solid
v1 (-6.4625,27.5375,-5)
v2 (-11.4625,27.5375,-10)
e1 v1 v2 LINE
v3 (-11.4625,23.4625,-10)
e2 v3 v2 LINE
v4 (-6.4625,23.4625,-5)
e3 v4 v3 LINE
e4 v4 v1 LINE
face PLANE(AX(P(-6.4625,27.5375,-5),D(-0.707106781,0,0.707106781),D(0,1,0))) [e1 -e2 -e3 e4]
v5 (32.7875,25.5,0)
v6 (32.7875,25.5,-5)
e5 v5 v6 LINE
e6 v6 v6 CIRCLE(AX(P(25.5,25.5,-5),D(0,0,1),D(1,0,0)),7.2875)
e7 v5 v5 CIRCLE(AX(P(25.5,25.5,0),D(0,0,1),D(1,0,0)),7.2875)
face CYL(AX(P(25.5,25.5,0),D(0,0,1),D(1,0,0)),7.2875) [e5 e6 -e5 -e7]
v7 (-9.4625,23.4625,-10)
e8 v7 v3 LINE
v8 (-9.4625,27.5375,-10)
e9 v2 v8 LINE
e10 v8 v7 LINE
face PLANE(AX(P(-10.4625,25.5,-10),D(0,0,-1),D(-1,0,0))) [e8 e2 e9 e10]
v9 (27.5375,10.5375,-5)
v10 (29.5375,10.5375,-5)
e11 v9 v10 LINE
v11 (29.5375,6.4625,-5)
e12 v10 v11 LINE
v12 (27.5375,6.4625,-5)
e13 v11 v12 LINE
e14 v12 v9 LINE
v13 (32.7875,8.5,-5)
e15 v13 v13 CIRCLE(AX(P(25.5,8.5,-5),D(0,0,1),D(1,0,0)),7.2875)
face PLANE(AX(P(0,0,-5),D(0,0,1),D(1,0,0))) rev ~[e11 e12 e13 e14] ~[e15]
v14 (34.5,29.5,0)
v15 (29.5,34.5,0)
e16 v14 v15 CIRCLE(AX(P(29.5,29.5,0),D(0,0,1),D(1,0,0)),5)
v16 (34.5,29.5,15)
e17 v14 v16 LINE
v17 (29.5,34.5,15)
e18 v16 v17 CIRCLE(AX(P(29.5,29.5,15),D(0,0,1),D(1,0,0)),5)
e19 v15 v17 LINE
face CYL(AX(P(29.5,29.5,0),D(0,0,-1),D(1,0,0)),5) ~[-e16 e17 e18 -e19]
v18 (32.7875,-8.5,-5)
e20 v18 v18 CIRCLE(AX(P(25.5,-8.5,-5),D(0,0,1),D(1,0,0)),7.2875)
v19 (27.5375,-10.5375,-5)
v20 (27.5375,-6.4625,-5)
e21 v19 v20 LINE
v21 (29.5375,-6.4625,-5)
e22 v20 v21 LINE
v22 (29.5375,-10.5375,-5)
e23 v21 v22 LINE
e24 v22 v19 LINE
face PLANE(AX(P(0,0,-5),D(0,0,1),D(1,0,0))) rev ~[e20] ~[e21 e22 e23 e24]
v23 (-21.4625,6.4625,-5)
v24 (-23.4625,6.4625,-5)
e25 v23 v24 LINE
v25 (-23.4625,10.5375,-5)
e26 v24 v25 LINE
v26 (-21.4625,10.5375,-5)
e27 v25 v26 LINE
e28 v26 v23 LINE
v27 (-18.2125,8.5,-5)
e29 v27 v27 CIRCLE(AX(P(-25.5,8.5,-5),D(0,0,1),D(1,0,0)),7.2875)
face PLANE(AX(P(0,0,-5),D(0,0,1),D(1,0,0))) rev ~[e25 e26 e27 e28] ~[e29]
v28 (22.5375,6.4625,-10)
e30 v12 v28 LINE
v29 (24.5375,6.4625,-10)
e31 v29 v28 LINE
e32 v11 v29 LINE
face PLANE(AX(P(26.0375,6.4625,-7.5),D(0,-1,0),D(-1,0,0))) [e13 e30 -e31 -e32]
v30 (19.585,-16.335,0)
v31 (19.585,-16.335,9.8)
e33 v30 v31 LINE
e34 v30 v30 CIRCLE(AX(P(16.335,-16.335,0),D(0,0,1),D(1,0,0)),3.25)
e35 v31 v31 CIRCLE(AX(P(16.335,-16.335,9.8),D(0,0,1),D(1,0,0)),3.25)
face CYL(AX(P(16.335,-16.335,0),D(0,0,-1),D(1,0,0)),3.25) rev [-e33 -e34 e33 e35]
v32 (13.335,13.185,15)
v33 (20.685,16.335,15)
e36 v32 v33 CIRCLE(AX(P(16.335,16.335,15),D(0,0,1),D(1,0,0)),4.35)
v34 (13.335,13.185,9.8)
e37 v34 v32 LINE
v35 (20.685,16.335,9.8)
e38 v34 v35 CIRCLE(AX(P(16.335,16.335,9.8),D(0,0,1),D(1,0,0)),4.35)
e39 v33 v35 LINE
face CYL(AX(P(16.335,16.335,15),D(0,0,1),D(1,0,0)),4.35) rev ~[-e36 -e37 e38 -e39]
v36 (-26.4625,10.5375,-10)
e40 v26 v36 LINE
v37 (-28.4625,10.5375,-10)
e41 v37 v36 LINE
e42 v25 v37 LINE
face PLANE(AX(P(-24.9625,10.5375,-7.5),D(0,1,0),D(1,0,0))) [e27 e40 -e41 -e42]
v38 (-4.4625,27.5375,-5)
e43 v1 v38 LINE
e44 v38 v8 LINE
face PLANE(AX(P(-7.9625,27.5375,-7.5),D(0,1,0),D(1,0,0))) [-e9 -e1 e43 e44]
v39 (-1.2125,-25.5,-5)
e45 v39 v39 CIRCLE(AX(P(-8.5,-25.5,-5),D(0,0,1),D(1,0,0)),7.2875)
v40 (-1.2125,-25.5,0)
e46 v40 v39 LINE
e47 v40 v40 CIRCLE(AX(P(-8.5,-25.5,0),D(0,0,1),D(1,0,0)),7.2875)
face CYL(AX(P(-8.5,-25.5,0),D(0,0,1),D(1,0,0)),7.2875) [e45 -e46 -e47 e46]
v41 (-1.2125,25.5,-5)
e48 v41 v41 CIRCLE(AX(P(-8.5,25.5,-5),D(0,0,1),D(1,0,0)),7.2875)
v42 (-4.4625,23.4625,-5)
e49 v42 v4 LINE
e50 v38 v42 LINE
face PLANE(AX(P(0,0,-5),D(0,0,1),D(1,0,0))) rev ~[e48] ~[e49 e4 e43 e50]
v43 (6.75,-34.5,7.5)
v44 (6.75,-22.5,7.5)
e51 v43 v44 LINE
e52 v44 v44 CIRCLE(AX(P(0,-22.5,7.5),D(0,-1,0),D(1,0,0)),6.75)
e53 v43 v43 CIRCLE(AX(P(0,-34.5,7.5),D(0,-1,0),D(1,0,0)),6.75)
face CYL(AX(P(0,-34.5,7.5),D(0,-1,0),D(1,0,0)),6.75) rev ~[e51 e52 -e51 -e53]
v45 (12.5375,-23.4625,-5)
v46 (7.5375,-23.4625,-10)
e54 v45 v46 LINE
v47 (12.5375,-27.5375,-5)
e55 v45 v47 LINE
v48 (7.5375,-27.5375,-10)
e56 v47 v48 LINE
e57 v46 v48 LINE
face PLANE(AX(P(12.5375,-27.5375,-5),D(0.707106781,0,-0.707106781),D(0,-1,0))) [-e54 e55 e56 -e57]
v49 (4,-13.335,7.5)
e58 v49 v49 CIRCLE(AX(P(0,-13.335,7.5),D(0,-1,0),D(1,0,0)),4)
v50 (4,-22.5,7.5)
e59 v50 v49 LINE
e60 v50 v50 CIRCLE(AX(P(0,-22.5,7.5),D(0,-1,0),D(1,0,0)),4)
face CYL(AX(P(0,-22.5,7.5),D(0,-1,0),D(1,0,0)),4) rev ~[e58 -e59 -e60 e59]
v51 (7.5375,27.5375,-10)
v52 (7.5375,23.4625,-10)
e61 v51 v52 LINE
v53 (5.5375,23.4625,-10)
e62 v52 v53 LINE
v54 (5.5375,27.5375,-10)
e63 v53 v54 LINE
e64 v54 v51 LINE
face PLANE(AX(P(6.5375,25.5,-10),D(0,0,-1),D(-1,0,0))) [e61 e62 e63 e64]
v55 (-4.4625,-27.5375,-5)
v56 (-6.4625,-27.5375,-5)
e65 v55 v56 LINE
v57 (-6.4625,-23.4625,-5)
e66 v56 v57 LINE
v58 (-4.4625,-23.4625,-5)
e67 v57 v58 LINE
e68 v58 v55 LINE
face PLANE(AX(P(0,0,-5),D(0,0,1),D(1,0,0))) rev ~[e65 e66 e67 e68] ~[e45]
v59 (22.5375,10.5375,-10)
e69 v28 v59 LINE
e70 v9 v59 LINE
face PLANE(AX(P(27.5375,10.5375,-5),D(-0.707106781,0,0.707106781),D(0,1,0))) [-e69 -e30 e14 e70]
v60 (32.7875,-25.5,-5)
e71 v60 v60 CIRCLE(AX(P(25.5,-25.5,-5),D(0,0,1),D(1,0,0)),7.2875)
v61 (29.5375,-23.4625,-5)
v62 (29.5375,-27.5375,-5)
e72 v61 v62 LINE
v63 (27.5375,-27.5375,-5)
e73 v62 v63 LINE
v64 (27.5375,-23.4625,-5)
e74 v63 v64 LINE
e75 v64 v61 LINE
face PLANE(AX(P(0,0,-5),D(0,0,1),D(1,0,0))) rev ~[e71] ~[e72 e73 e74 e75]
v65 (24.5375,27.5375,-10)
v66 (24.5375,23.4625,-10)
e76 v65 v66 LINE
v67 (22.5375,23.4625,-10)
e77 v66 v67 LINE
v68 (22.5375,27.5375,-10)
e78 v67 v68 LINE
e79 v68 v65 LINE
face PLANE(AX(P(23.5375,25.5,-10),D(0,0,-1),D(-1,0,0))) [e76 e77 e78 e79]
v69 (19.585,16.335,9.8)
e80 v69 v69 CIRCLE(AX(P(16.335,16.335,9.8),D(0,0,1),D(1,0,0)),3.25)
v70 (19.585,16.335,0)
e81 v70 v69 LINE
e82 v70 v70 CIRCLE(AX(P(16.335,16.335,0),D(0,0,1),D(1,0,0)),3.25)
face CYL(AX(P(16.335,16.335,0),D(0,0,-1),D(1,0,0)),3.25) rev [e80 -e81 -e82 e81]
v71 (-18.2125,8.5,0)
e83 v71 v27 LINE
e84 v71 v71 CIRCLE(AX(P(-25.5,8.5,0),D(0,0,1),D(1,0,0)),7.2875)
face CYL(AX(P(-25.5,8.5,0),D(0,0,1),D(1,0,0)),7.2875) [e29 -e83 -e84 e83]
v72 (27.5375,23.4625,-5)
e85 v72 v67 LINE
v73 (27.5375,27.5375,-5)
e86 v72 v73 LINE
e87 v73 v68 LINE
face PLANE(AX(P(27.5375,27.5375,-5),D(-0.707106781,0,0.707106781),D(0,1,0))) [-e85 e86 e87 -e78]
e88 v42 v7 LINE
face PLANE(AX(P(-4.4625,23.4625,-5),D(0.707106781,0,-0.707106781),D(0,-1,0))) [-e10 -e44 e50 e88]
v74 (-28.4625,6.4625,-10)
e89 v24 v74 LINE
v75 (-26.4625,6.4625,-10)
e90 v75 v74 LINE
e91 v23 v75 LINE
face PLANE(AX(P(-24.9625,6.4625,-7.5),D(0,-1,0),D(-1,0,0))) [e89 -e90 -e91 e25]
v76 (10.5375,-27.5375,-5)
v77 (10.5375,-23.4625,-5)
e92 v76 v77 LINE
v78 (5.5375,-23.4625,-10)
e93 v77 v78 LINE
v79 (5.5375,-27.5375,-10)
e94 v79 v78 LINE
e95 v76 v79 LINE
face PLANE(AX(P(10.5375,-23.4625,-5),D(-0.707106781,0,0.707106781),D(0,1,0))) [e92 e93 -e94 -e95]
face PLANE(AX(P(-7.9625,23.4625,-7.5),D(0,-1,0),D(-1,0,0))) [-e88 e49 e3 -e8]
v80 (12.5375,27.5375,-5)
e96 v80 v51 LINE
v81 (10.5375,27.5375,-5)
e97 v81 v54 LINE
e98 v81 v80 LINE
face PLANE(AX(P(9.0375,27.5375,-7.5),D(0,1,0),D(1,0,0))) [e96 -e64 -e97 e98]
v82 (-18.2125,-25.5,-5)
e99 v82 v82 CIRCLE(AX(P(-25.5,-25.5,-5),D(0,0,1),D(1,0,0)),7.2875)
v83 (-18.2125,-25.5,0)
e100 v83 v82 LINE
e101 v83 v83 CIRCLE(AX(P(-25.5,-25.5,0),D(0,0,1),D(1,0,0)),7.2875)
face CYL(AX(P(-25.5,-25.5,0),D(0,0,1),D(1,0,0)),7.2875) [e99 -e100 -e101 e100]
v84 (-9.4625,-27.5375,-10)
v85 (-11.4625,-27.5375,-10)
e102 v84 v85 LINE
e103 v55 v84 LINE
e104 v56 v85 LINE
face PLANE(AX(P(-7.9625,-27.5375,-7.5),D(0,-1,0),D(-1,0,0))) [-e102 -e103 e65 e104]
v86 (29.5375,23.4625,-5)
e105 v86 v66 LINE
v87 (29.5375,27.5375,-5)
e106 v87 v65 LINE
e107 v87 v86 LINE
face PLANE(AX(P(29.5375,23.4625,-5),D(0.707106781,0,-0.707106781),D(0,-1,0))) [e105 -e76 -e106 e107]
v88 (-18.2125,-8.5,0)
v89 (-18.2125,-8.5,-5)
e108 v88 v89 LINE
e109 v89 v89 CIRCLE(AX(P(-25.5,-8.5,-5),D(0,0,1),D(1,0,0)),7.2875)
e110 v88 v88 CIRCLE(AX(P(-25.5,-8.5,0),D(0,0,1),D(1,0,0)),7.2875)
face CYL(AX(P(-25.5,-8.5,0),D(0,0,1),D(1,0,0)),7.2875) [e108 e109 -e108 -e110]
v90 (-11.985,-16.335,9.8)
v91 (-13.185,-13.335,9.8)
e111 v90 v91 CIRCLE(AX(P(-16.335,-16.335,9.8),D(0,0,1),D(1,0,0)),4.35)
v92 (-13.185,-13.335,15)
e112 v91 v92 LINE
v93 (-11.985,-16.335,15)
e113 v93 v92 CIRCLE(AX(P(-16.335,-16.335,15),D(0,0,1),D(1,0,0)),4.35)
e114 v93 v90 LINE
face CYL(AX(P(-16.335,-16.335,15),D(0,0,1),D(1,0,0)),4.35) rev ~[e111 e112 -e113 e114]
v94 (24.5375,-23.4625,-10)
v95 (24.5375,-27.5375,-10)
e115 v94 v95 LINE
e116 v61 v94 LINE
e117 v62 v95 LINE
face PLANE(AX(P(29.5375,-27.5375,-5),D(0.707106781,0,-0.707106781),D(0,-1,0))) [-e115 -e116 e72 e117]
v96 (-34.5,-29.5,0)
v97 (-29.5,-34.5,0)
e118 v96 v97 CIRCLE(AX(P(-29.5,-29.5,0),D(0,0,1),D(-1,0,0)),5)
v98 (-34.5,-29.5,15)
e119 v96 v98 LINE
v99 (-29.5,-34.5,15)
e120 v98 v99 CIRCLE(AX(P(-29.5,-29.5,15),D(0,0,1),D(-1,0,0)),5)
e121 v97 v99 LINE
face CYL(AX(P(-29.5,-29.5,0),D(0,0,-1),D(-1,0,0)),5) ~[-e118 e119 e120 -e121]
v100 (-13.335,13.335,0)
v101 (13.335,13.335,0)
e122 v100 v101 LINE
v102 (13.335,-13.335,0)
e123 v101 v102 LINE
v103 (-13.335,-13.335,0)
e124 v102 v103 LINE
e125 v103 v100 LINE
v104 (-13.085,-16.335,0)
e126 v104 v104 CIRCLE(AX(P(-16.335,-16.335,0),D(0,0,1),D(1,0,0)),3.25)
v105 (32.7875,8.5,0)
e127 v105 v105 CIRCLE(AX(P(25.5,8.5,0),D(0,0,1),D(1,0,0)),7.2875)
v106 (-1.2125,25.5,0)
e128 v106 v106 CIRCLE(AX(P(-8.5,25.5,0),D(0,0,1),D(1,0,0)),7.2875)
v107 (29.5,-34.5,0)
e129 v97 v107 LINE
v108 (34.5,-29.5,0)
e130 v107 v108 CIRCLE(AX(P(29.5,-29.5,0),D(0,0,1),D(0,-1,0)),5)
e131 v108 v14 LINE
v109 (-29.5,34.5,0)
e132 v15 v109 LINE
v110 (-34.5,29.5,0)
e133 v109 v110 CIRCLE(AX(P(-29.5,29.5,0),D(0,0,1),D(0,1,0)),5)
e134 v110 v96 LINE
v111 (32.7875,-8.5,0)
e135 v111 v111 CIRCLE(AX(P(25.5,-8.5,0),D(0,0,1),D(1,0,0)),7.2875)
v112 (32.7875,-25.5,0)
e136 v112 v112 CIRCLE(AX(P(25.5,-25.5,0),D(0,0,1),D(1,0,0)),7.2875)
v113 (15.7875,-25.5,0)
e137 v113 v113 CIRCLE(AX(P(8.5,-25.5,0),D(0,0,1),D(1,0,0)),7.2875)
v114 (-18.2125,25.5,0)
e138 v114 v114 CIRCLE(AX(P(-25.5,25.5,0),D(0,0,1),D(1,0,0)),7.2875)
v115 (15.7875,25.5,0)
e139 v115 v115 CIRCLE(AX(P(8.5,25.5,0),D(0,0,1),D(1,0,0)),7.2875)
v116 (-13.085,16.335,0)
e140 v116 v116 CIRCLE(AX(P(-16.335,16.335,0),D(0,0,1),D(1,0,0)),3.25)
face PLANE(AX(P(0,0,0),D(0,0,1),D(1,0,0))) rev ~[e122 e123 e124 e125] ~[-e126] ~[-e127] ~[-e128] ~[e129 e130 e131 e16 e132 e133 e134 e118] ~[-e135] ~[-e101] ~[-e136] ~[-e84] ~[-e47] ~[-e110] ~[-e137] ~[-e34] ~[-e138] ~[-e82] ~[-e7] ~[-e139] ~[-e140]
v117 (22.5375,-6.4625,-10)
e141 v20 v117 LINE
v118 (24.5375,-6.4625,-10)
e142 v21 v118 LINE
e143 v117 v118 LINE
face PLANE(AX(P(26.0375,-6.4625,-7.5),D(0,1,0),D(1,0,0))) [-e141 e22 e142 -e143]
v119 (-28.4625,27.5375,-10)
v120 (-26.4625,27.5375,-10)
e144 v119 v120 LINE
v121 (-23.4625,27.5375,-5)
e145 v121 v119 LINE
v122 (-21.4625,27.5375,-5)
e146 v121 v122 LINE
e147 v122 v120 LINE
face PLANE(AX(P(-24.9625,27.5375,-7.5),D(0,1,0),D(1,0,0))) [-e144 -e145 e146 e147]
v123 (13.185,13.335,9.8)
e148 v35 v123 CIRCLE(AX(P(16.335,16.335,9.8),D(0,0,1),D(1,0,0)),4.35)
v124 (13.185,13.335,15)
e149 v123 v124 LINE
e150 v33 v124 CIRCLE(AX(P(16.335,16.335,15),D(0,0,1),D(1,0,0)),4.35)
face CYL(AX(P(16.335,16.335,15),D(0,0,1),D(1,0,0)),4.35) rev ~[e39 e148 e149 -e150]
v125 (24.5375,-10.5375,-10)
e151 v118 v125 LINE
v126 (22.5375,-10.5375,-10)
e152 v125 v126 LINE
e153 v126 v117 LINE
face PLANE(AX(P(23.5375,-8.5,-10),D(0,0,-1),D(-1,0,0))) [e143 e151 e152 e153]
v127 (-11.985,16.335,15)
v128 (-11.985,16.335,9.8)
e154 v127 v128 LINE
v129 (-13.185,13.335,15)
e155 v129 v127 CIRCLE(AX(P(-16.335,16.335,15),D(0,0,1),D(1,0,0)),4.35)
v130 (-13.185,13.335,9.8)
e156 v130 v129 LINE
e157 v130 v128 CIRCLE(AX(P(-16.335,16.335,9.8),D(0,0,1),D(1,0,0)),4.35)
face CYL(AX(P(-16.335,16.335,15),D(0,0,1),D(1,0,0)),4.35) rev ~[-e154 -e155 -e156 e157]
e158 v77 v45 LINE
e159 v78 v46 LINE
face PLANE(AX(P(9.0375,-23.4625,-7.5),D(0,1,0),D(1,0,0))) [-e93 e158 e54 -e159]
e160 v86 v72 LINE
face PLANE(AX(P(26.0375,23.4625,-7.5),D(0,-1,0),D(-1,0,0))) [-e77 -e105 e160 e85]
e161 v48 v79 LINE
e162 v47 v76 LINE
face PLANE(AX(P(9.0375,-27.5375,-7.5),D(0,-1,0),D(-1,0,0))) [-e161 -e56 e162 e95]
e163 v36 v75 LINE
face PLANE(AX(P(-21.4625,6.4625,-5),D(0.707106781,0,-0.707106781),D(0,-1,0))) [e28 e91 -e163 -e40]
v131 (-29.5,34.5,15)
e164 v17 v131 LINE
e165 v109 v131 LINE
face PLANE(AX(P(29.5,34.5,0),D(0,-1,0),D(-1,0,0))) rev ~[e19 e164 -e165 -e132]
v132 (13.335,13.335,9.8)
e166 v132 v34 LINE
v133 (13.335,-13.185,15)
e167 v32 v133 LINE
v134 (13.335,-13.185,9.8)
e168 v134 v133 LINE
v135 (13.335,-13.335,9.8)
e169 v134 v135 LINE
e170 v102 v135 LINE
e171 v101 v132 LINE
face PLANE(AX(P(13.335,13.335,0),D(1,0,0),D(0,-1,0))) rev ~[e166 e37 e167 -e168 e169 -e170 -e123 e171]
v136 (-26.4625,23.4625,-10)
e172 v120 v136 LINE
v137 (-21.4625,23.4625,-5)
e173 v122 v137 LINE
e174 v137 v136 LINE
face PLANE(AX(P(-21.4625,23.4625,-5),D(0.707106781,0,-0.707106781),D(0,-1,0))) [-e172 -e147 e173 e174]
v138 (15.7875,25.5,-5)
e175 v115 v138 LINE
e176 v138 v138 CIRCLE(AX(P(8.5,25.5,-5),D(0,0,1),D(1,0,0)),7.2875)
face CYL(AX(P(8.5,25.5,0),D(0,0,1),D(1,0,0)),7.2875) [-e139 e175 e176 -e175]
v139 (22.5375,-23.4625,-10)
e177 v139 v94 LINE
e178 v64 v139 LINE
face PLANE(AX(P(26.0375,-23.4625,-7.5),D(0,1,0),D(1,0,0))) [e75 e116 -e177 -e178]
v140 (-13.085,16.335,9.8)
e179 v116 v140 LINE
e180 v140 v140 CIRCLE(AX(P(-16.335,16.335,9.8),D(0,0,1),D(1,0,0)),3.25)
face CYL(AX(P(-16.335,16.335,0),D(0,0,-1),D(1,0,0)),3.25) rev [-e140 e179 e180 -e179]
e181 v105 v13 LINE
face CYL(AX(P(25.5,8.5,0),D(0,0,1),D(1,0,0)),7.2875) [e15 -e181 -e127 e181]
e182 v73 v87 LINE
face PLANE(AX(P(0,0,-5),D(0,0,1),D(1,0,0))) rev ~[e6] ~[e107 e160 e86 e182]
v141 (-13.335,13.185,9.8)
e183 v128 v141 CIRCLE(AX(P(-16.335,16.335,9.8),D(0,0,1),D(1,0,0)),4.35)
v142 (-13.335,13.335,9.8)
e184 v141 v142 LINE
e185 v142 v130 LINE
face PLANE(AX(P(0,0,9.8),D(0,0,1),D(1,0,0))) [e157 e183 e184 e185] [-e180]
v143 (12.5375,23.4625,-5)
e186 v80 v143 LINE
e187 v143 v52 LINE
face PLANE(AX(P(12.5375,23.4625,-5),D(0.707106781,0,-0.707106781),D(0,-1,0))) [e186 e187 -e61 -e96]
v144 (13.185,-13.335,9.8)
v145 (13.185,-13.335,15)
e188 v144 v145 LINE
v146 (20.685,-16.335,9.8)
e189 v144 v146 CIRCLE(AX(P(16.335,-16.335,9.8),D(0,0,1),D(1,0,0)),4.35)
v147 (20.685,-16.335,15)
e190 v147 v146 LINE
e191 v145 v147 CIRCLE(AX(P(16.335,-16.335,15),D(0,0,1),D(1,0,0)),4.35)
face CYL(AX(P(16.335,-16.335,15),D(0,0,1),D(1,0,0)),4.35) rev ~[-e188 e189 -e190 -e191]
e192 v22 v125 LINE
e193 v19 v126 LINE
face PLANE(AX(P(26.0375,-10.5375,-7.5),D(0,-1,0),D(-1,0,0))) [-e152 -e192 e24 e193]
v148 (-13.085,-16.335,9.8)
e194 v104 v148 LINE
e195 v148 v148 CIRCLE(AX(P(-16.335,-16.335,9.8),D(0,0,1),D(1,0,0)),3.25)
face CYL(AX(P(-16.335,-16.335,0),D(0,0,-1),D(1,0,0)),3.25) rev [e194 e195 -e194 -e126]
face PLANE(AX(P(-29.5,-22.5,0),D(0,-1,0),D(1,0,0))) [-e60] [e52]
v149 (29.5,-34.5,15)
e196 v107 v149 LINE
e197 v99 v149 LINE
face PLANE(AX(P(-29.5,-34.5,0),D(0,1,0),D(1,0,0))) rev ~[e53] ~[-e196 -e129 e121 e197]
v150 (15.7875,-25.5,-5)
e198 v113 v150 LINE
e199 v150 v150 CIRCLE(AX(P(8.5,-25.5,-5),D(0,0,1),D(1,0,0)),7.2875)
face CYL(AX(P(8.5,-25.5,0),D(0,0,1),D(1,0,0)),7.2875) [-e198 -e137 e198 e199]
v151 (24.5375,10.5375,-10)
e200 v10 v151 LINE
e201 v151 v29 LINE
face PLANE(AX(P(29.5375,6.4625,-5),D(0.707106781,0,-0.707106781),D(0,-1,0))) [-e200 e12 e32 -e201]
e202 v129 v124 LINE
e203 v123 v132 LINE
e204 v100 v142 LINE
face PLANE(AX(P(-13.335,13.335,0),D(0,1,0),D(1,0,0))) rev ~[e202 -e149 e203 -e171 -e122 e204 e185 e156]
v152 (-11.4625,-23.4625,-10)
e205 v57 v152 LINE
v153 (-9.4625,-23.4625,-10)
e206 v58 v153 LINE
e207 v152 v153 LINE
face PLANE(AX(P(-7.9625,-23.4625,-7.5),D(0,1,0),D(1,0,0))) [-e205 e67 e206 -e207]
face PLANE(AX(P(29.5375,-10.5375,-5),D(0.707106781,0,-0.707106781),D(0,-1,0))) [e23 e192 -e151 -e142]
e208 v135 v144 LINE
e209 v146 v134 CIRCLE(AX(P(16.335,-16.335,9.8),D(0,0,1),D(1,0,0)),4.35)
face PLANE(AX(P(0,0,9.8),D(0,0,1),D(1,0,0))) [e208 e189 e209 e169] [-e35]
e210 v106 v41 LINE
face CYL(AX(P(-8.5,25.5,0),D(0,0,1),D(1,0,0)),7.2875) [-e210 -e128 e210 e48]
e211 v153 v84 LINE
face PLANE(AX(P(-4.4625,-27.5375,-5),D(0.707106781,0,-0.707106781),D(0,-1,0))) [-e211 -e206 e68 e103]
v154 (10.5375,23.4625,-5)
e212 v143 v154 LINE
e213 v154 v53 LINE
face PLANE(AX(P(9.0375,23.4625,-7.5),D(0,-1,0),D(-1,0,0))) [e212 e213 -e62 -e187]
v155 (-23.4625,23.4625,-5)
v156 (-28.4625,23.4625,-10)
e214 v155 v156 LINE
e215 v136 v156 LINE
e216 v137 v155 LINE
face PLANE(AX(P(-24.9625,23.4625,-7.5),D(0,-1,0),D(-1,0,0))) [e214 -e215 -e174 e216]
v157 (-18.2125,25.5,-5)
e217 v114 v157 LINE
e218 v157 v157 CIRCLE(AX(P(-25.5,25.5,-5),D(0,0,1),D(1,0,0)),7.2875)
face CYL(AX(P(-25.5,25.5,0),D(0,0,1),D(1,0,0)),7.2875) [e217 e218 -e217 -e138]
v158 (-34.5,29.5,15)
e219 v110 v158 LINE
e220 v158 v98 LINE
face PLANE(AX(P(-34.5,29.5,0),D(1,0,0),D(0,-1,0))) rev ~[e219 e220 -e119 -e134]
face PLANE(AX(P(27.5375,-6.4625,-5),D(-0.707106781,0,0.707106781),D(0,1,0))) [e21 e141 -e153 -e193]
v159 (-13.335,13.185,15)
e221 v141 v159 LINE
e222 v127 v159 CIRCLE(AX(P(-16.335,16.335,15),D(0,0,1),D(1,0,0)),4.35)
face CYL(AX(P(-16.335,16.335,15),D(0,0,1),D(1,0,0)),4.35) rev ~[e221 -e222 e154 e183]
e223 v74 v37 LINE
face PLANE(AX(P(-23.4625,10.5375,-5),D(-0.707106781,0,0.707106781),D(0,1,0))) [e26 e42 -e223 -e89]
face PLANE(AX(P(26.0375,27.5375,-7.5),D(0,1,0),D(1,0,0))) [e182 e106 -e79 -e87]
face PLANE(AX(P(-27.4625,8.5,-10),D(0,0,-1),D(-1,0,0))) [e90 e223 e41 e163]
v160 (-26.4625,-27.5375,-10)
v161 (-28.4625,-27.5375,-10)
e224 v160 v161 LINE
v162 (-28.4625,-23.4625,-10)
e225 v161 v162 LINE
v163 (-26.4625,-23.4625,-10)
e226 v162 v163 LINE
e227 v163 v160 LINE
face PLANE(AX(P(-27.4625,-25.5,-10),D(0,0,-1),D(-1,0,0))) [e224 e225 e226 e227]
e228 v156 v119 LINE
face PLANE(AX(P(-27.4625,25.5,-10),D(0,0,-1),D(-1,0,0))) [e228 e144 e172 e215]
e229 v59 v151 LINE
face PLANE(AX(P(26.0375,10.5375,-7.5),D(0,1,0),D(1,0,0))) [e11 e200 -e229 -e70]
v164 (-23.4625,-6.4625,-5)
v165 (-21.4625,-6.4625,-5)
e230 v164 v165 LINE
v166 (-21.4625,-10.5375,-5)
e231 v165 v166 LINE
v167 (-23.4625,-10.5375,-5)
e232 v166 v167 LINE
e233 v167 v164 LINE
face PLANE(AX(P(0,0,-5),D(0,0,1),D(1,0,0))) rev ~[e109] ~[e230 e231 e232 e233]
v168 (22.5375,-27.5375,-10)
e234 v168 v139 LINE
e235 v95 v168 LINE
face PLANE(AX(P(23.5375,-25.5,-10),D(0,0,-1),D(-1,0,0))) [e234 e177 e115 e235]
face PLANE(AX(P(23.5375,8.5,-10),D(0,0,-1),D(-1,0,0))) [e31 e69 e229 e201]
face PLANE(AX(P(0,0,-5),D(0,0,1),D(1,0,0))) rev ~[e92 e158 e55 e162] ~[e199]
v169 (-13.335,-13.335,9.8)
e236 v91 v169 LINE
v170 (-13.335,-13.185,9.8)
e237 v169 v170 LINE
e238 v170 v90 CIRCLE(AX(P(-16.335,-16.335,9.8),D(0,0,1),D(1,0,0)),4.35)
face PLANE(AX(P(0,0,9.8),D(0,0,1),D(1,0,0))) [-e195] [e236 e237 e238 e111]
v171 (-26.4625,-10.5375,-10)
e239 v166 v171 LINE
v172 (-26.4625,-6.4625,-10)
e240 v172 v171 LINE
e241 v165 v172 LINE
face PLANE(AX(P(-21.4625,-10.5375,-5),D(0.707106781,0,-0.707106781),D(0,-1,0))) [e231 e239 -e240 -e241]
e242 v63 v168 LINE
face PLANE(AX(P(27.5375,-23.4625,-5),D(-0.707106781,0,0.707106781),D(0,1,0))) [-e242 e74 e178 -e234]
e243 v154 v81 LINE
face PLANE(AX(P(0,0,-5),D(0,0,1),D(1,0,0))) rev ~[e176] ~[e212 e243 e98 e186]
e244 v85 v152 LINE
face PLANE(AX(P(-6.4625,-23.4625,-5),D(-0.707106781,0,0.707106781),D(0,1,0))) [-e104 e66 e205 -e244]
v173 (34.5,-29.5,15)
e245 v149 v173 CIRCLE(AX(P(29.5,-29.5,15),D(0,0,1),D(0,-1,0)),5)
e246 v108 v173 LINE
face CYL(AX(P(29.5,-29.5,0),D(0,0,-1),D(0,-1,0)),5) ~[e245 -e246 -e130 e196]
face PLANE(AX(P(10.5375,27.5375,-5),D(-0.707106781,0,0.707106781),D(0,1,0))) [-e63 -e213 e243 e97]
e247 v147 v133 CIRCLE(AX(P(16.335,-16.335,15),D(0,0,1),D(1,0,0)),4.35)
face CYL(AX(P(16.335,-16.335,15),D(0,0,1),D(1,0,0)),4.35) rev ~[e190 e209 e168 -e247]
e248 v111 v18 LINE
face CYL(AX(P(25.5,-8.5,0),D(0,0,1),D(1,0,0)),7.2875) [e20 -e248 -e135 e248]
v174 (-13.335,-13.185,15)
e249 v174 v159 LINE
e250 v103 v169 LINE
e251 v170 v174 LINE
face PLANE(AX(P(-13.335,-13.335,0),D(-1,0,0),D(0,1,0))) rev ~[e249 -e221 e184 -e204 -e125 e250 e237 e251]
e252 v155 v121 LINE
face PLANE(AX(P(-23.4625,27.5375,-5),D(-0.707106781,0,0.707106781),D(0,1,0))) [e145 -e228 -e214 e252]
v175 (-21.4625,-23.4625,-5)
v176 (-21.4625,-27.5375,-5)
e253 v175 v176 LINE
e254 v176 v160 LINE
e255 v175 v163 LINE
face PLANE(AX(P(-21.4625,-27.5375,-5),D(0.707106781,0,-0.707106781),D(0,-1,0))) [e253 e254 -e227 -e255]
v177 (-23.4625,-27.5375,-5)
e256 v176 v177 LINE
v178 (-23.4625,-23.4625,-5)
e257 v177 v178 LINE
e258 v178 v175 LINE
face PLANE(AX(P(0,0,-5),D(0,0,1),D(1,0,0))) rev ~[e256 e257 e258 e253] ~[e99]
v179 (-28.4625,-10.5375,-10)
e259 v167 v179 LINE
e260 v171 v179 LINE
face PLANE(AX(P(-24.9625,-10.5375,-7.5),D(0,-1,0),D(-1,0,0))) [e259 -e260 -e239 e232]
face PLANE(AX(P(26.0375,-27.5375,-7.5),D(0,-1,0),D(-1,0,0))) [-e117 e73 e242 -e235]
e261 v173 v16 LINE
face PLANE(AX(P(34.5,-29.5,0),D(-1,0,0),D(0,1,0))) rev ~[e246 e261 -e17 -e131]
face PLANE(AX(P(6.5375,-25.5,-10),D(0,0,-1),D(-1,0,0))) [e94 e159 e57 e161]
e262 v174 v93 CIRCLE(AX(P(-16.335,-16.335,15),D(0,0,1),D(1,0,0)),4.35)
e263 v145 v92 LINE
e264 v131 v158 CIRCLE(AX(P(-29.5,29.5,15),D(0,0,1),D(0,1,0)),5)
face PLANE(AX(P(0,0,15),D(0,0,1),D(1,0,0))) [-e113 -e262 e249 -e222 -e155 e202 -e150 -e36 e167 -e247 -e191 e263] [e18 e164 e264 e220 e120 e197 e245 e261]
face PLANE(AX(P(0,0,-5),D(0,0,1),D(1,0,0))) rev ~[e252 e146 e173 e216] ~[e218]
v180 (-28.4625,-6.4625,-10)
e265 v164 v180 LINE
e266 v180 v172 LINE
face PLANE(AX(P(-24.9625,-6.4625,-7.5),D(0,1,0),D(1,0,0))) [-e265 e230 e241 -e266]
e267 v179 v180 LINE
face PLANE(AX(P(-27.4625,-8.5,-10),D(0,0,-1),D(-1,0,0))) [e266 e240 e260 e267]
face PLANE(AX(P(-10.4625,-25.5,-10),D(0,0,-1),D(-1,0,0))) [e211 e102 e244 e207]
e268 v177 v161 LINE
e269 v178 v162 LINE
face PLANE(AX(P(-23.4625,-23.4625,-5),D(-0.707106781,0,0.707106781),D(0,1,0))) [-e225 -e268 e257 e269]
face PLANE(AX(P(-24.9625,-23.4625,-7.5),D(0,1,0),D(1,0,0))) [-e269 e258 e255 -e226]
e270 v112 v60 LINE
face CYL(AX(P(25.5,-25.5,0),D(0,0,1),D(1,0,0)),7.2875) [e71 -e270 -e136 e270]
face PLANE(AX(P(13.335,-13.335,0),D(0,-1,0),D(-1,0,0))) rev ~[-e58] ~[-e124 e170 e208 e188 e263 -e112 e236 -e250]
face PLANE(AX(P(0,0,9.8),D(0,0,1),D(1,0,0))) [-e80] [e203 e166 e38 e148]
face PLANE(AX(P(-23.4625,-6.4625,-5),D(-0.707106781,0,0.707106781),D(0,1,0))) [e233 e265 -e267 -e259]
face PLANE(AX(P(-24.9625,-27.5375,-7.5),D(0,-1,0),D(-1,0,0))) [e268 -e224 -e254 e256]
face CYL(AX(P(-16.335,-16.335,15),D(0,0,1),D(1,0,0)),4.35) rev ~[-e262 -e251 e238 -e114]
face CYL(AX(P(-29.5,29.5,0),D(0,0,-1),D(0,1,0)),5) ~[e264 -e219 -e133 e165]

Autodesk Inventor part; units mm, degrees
ref_plane "YZ Plane" through (0, 0, 0) normal (1, 0, 0) x (0, 1, 0)
ref_plane "XZ Plane" through (0, 0, 0) normal (0, 1, 0) x (-1, 0, 0)
ref_plane "XY Plane" through (0, 0, 0) normal (0, 0, 1) x (1, 0, 0)
sketch "Sketch1" plane through (0, 0, 0) normal (0, 0, 1) x (1, 0, 0)
  circle A0 centre (16.335, -16.335) radius 2.25 projected
  circle A1 centre (-16.335, 16.335) radius 2.25 projected
  circle A2 centre (16.335, 16.335) radius 2.25 projected
  circle A3 centre (-16.335, -16.335) radius 2.25 projected
  line L0 (-13.335, 13.335) -> (13.335, 13.335) projected
  line L1 (13.335, 13.335) -> (13.335, -13.335) projected
  line L2 (13.335, -13.335) -> (-13.335, -13.335) projected
  line L3 (-13.335, -13.335) -> (-13.335, 13.335) projected
  circle A4 centre (25.5, -25.5) radius 8.0375 projected
  circle A5 centre (8.5, -25.5) radius 8.0375 projected
  circle A6 centre (-25.5, -25.5) radius 8.0375 projected
  circle A7 centre (-8.5, -25.5) radius 8.0375 projected
  circle A8 centre (25.5, -8.5) radius 8.0375 projected
  circle A9 centre (25.5, 8.5) radius 8.0375 projected
  circle A10 centre (-25.5, -8.5) radius 8.0375 projected
  circle A11 centre (-25.5, 8.5) radius 8.0375 projected
  circle A12 centre (25.5, 25.5) radius 8.0375 projected
  circle A13 centre (8.5, 25.5) radius 8.0375 projected
  circle A14 centre (-25.5, 25.5) radius 8.0375 projected
  circle A15 centre (-8.5, 25.5) radius 8.0375 projected
  arc A16 (29.5, -34.5) -> (34.5, -29.5) centre (29.5, -29.5) ccw projected
  line L4 (34.5, -29.5) -> (34.5, 29.5) projected
  arc A17 (34.5, 29.5) -> (29.5, 34.5) centre (29.5, 29.5) ccw projected
  line L5 (29.5, 34.5) -> (-29.5, 34.5) projected
  arc A18 (-29.5, 34.5) -> (-34.5, 29.5) centre (-29.5, 29.5) ccw projected
  line L6 (-34.5, 29.5) -> (-34.5, -29.5) projected
  arc A19 (-34.5, -29.5) -> (-29.5, -34.5) centre (-29.5, -29.5) ccw projected
  line L7 (-29.5, -34.5) -> (29.5, -34.5) projected
  circle A20 centre (-25.5, -25.5) radius 7.2875
  circle A21 centre (-8.5, -25.5) radius 7.2875
  circle A22 centre (8.5, -25.5) radius 7.2875
  circle A23 centre (25.5, -25.5) radius 7.2875
  circle A24 centre (-25.5, -8.5) radius 7.2875
  circle A25 centre (25.5, -8.5) radius 7.2875
  circle A26 centre (-25.5, 8.5) radius 7.2875
  circle A27 centre (25.5, 8.5) radius 7.2875
  circle A28 centre (-25.5, 25.5) radius 7.2875
  circle A29 centre (-8.5, 25.5) radius 7.2875
  circle A30 centre (8.5, 25.5) radius 7.2875
  circle A31 centre (25.5, 25.5) radius 7.2875
  point P0 (0, 0)
  dimension "d40" = 0.75
  dimension "d41" = 0.75
  dimension "d42" = 0.75
  dimension "d43" = 0.75
  dimension "d44" = 0.75
  dimension "d45" = 0.75
  dimension "d46" = 0.75
  dimension "d47" = 0.75
  dimension "d48" = 0.75
  dimension "d49" = 0.75
  dimension "d50" = 0.75
  dimension "d51" = 0.75
extrude "Extrusion1" add sketch "Sketch1" against normal blind 5 contours A20 | A21 | A22 | A23 | A24 | A25 | A26 | A27 | A28 | A29 | A30 | A31
ref_plane "Work Plane1" through (0, 0, 0) normal (0, 0, 1) x (1, 0, 0)
sketch "Sketch2" plane through (0, 0, 0) normal (0, 0, 1) x (1, 0, 0)
  circle A0 centre (16.335, -16.335) radius 2.25 projected
  circle A1 centre (-16.335, 16.335) radius 2.25 projected
  circle A2 centre (16.335, 16.335) radius 2.25 projected
  circle A3 centre (-16.335, -16.335) radius 2.25 projected
  line L0 (-13.335, 13.335) -> (13.335, 13.335) projected
  line L1 (13.335, 13.335) -> (13.335, -13.335) projected
  line L2 (13.335, -13.335) -> (-13.335, -13.335) projected
  line L3 (-13.335, -13.335) -> (-13.335, 13.335) projected
  circle A4 centre (25.5, -25.5) radius 8.0375 projected
  circle A5 centre (8.5, -25.5) radius 8.0375 projected
  circle A6 centre (-25.5, -25.5) radius 8.0375 projected
  circle A7 centre (-8.5, -25.5) radius 8.0375 projected
  circle A8 centre (25.5, -8.5) radius 8.0375 projected
  circle A9 centre (25.5, 8.5) radius 8.0375 projected
  circle A10 centre (-25.5, -8.5) radius 8.0375 projected
  circle A11 centre (-25.5, 8.5) radius 8.0375 projected
  circle A12 centre (25.5, 25.5) radius 8.0375 projected
  circle A13 centre (8.5, 25.5) radius 8.0375 projected
  circle A14 centre (-25.5, 25.5) radius 8.0375 projected
  circle A15 centre (-8.5, 25.5) radius 8.0375 projected
  arc A16 (29.5, -34.5) -> (34.5, -29.5) centre (29.5, -29.5) ccw projected
  line L4 (34.5, -29.5) -> (34.5, 29.5) projected
  arc A17 (34.5, 29.5) -> (29.5, 34.5) centre (29.5, 29.5) ccw projected
  line L5 (29.5, 34.5) -> (-29.5, 34.5) projected
  arc A18 (-29.5, 34.5) -> (-34.5, 29.5) centre (-29.5, 29.5) ccw projected
  line L6 (-34.5, 29.5) -> (-34.5, -29.5) projected
  arc A19 (-34.5, -29.5) -> (-29.5, -34.5) centre (-29.5, -29.5) ccw projected
  line L7 (-29.5, -34.5) -> (29.5, -34.5) projected
  circle A20 centre (-16.335, 16.335) radius 3.25
  circle A21 centre (16.335, 16.335) radius 3.25
  circle A22 centre (-16.335, -16.335) radius 3.25
  circle A23 centre (16.335, -16.335) radius 3.25
  point P0 (0, 0)
  dimension "d4" = 1
  dimension "d5" = 1
  dimension "d6" = 1
  dimension "d7" = 1
extrude "Extrusion2" add sketch "Sketch2" along normal blind 15 contours A4 | A5 | A6 | A7 | A8 | A9 | A10 | A11 | A12 | A13 | A14 | A15 | L7 A19 L6 A18 L5 A17 L4 A16
sketch "Sketch3" plane through (25.5, 25.5, -5) normal (0, 0, -1) x (-1, 0, 0)
  line L0 (-4.0375, 2.0375) -> (-2.0375, 2.0375)
  line L1 (-2.0375, 2.0375) -> (-2.0375, -2.0375)
  line L2 (-2.0375, -2.0375) -> (-4.0375, -2.0375)
  line L3 (-4.0375, -2.0375) -> (-4.0375, 2.0375)
  circle A0 centre (0, 0) radius 8.0375 projected
  line L4 (12.165, -12.165) -> (38.835, -12.165) projected
  line L5 (12.165, -38.835) -> (12.165, -12.165) projected
  line L6 (12.9625, 2.0375) -> (14.9625, 2.0375)
  line L7 (14.9625, 2.0375) -> (14.9625, -2.0375)
  line L8 (14.9625, -2.0375) -> (12.9625, -2.0375)
  line L9 (12.9625, -2.0375) -> (12.9625, 2.0375)
  line L10 (29.9625, 2.0375) -> (31.9625, 2.0375)
  line L11 (31.9625, 2.0375) -> (31.9625, -2.0375)
  line L12 (31.9625, -2.0375) -> (29.9625, -2.0375)
  line L13 (29.9625, -2.0375) -> (29.9625, 2.0375)
  line L14 (46.9625, 2.0375) -> (48.9625, 2.0375)
  line L15 (48.9625, 2.0375) -> (48.9625, -2.0375)
  line L16 (48.9625, -2.0375) -> (46.9625, -2.0375)
  line L17 (46.9625, -2.0375) -> (46.9625, 2.0375)
  line L18 (-4.0375, -14.9625) -> (-2.0375, -14.9625)
  line L19 (-2.0375, -14.9625) -> (-2.0375, -19.0375)
  line L20 (-2.0375, -19.0375) -> (-4.0375, -19.0375)
  line L21 (-4.0375, -19.0375) -> (-4.0375, -14.9625)
  line L22 (12.9625, -14.9625) -> (14.9625, -14.9625)
  line L23 (14.9625, -14.9625) -> (14.9625, -19.0375)
  line L24 (14.9625, -19.0375) -> (12.9625, -19.0375)
  line L25 (12.9625, -19.0375) -> (12.9625, -14.9625)
  line L26 (29.9625, -14.9625) -> (31.9625, -14.9625)
  line L27 (31.9625, -14.9625) -> (31.9625, -19.0375)
  line L28 (31.9625, -19.0375) -> (29.9625, -19.0375)
  line L29 (29.9625, -19.0375) -> (29.9625, -14.9625)
  line L30 (46.9625, -14.9625) -> (48.9625, -14.9625)
  line L31 (48.9625, -14.9625) -> (48.9625, -19.0375)
  line L32 (48.9625, -19.0375) -> (46.9625, -19.0375)
  line L33 (46.9625, -19.0375) -> (46.9625, -14.9625)
  line L34 (-4.0375, -31.9625) -> (-2.0375, -31.9625)
  line L35 (-2.0375, -31.9625) -> (-2.0375, -36.0375)
  line L36 (-2.0375, -36.0375) -> (-4.0375, -36.0375)
  line L37 (-4.0375, -36.0375) -> (-4.0375, -31.9625)
  line L38 (12.9625, -31.9625) -> (14.9625, -31.9625)
  line L39 (14.9625, -31.9625) -> (14.9625, -36.0375)
  line L40 (14.9625, -36.0375) -> (12.9625, -36.0375)
  line L41 (12.9625, -36.0375) -> (12.9625, -31.9625)
  line L42 (29.9625, -31.9625) -> (31.9625, -31.9625)
  line L43 (31.9625, -31.9625) -> (31.9625, -36.0375)
  line L44 (31.9625, -36.0375) -> (29.9625, -36.0375)
  line L45 (29.9625, -36.0375) -> (29.9625, -31.9625)
  line L46 (46.9625, -31.9625) -> (48.9625, -31.9625)
  line L47 (48.9625, -31.9625) -> (48.9625, -36.0375)
  line L48 (48.9625, -36.0375) -> (46.9625, -36.0375)
  line L49 (46.9625, -36.0375) -> (46.9625, -31.9625)
  line L50 (-4.0375, -48.9625) -> (-2.0375, -48.9625)
  line L51 (-2.0375, -48.9625) -> (-2.0375, -53.0375)
  line L52 (-2.0375, -53.0375) -> (-4.0375, -53.0375)
  line L53 (-4.0375, -53.0375) -> (-4.0375, -48.9625)
  line L54 (12.9625, -48.9625) -> (14.9625, -48.9625)
  line L55 (14.9625, -48.9625) -> (14.9625, -53.0375)
  line L56 (14.9625, -53.0375) -> (12.9625, -53.0375)
  line L57 (12.9625, -53.0375) -> (12.9625, -48.9625)
  line L58 (29.9625, -48.9625) -> (31.9625, -48.9625)
  line L59 (31.9625, -48.9625) -> (31.9625, -53.0375)
  line L60 (31.9625, -53.0375) -> (29.9625, -53.0375)
  line L61 (29.9625, -53.0375) -> (29.9625, -48.9625)
  line L62 (46.9625, -48.9625) -> (48.9625, -48.9625)
  line L63 (48.9625, -48.9625) -> (48.9625, -53.0375)
  line L64 (48.9625, -53.0375) -> (46.9625, -53.0375)
  line L65 (46.9625, -53.0375) -> (46.9625, -48.9625)
  dimension "d9" = 2
  dimension "d10" = 6
  dimension "d11" = 6
  dimension "d12" = 4
  dimension "d15" = 17
  dimension "d18" = 17
sketch "Sketch4" plane through (8.5, 25.5, -5) normal (0, 0, -1) x (-1, 0, 0)
  point P0 (8.5, -25.5)
ref_plane "Work Plane2" through (-34.5, -34.5, -179.8) normal (0, -1, 0) x (1, 0, 0)
sketch "Sketch5" plane through (-34.5, -34.5, -179.8) normal (0, -1, 0) x (1, 0, 0)
  line L0 (62.0375, 174.8) -> (64.0375, 174.8) projected
  line L1 (62.0375, 174.8) -> (57.0375, 169.8)
  line L2 (62.0375, 174.8) -> (69.1086, 174.8) construction
  point P0 (34.5, 179.8)
  dimension "d21" = 135
  dimension "d23" = 5
sweep "Sweep1" add profiles "Sketch3" path "Sketch5" path curves L1 contours L0 L1 L2 L3 | L6 L7 L8 L9 | L10 L11 L12 L13 | L14 L15 L16 L17 | L18 L19 L20 L21 | L30 L31 L32 L33 | L34 L35 L36 L37 | L46 L47 L48 L49 | L50 L51 L52 L53 | L54 L55 L56 L57 | L58 L59 L60 L61 | L62 L63 L64 L65
sketch "Sketch6" plane through (-29.5, -34.5, 0) normal (0, -1, 0) x (1, 0, 0)
  circle A0 centre (29.5, 7.5) radius 6.75
  line L0 (59, 0) -> (0, 0) projected
  line L1 (64, 0) -> (64, 15) projected
  point P0 (29.5, 0)
  dimension "d26" = 7.5
  dimension "d27" = 13.5
  dimension "d28" = 34.5
extrude "Extrusion3" cut sketch "Sketch6" against normal blind 12
sketch "Sketch7" plane through (0, -22.5, 7.5) normal (0, -1, 0) x (1, 0, 0)
  circle A0 centre (0, 0) radius 6.75 projected
  circle A1 centre (0, 0) radius 4
  point P0 (0, -7.5)
  dimension "d31" = 8
extrude "Extrusion4" cut sketch "Sketch7" against normal up to next contours A1
sketch "Sketch8" plane through (0, 0, 15) normal (0, 0, 1) x (1, 0, 0)
  circle A0 centre (16.335, 16.335) radius 3.25 projected
  circle A1 centre (16.335, -16.335) radius 3.25 projected
  circle A2 centre (-16.335, -16.335) radius 3.25 projected
  circle A3 centre (-16.335, 16.335) radius 3.25 projected
  circle A4 centre (16.335, 16.335) radius 4.35
  circle A5 centre (16.335, -16.335) radius 4.35
  circle A6 centre (-16.335, 16.335) radius 4.35
  circle A7 centre (-16.335, -16.335) radius 4.35
  point P0 (0, 0)
  dimension "d34" = 1.1
  dimension "d35" = 1.1
  dimension "d36" = 1.1
  dimension "d37" = 1.1
extrude "Extrusion5" cut sketch "Sketch8" against normal blind 5.2
properties part number "WeightCap"
